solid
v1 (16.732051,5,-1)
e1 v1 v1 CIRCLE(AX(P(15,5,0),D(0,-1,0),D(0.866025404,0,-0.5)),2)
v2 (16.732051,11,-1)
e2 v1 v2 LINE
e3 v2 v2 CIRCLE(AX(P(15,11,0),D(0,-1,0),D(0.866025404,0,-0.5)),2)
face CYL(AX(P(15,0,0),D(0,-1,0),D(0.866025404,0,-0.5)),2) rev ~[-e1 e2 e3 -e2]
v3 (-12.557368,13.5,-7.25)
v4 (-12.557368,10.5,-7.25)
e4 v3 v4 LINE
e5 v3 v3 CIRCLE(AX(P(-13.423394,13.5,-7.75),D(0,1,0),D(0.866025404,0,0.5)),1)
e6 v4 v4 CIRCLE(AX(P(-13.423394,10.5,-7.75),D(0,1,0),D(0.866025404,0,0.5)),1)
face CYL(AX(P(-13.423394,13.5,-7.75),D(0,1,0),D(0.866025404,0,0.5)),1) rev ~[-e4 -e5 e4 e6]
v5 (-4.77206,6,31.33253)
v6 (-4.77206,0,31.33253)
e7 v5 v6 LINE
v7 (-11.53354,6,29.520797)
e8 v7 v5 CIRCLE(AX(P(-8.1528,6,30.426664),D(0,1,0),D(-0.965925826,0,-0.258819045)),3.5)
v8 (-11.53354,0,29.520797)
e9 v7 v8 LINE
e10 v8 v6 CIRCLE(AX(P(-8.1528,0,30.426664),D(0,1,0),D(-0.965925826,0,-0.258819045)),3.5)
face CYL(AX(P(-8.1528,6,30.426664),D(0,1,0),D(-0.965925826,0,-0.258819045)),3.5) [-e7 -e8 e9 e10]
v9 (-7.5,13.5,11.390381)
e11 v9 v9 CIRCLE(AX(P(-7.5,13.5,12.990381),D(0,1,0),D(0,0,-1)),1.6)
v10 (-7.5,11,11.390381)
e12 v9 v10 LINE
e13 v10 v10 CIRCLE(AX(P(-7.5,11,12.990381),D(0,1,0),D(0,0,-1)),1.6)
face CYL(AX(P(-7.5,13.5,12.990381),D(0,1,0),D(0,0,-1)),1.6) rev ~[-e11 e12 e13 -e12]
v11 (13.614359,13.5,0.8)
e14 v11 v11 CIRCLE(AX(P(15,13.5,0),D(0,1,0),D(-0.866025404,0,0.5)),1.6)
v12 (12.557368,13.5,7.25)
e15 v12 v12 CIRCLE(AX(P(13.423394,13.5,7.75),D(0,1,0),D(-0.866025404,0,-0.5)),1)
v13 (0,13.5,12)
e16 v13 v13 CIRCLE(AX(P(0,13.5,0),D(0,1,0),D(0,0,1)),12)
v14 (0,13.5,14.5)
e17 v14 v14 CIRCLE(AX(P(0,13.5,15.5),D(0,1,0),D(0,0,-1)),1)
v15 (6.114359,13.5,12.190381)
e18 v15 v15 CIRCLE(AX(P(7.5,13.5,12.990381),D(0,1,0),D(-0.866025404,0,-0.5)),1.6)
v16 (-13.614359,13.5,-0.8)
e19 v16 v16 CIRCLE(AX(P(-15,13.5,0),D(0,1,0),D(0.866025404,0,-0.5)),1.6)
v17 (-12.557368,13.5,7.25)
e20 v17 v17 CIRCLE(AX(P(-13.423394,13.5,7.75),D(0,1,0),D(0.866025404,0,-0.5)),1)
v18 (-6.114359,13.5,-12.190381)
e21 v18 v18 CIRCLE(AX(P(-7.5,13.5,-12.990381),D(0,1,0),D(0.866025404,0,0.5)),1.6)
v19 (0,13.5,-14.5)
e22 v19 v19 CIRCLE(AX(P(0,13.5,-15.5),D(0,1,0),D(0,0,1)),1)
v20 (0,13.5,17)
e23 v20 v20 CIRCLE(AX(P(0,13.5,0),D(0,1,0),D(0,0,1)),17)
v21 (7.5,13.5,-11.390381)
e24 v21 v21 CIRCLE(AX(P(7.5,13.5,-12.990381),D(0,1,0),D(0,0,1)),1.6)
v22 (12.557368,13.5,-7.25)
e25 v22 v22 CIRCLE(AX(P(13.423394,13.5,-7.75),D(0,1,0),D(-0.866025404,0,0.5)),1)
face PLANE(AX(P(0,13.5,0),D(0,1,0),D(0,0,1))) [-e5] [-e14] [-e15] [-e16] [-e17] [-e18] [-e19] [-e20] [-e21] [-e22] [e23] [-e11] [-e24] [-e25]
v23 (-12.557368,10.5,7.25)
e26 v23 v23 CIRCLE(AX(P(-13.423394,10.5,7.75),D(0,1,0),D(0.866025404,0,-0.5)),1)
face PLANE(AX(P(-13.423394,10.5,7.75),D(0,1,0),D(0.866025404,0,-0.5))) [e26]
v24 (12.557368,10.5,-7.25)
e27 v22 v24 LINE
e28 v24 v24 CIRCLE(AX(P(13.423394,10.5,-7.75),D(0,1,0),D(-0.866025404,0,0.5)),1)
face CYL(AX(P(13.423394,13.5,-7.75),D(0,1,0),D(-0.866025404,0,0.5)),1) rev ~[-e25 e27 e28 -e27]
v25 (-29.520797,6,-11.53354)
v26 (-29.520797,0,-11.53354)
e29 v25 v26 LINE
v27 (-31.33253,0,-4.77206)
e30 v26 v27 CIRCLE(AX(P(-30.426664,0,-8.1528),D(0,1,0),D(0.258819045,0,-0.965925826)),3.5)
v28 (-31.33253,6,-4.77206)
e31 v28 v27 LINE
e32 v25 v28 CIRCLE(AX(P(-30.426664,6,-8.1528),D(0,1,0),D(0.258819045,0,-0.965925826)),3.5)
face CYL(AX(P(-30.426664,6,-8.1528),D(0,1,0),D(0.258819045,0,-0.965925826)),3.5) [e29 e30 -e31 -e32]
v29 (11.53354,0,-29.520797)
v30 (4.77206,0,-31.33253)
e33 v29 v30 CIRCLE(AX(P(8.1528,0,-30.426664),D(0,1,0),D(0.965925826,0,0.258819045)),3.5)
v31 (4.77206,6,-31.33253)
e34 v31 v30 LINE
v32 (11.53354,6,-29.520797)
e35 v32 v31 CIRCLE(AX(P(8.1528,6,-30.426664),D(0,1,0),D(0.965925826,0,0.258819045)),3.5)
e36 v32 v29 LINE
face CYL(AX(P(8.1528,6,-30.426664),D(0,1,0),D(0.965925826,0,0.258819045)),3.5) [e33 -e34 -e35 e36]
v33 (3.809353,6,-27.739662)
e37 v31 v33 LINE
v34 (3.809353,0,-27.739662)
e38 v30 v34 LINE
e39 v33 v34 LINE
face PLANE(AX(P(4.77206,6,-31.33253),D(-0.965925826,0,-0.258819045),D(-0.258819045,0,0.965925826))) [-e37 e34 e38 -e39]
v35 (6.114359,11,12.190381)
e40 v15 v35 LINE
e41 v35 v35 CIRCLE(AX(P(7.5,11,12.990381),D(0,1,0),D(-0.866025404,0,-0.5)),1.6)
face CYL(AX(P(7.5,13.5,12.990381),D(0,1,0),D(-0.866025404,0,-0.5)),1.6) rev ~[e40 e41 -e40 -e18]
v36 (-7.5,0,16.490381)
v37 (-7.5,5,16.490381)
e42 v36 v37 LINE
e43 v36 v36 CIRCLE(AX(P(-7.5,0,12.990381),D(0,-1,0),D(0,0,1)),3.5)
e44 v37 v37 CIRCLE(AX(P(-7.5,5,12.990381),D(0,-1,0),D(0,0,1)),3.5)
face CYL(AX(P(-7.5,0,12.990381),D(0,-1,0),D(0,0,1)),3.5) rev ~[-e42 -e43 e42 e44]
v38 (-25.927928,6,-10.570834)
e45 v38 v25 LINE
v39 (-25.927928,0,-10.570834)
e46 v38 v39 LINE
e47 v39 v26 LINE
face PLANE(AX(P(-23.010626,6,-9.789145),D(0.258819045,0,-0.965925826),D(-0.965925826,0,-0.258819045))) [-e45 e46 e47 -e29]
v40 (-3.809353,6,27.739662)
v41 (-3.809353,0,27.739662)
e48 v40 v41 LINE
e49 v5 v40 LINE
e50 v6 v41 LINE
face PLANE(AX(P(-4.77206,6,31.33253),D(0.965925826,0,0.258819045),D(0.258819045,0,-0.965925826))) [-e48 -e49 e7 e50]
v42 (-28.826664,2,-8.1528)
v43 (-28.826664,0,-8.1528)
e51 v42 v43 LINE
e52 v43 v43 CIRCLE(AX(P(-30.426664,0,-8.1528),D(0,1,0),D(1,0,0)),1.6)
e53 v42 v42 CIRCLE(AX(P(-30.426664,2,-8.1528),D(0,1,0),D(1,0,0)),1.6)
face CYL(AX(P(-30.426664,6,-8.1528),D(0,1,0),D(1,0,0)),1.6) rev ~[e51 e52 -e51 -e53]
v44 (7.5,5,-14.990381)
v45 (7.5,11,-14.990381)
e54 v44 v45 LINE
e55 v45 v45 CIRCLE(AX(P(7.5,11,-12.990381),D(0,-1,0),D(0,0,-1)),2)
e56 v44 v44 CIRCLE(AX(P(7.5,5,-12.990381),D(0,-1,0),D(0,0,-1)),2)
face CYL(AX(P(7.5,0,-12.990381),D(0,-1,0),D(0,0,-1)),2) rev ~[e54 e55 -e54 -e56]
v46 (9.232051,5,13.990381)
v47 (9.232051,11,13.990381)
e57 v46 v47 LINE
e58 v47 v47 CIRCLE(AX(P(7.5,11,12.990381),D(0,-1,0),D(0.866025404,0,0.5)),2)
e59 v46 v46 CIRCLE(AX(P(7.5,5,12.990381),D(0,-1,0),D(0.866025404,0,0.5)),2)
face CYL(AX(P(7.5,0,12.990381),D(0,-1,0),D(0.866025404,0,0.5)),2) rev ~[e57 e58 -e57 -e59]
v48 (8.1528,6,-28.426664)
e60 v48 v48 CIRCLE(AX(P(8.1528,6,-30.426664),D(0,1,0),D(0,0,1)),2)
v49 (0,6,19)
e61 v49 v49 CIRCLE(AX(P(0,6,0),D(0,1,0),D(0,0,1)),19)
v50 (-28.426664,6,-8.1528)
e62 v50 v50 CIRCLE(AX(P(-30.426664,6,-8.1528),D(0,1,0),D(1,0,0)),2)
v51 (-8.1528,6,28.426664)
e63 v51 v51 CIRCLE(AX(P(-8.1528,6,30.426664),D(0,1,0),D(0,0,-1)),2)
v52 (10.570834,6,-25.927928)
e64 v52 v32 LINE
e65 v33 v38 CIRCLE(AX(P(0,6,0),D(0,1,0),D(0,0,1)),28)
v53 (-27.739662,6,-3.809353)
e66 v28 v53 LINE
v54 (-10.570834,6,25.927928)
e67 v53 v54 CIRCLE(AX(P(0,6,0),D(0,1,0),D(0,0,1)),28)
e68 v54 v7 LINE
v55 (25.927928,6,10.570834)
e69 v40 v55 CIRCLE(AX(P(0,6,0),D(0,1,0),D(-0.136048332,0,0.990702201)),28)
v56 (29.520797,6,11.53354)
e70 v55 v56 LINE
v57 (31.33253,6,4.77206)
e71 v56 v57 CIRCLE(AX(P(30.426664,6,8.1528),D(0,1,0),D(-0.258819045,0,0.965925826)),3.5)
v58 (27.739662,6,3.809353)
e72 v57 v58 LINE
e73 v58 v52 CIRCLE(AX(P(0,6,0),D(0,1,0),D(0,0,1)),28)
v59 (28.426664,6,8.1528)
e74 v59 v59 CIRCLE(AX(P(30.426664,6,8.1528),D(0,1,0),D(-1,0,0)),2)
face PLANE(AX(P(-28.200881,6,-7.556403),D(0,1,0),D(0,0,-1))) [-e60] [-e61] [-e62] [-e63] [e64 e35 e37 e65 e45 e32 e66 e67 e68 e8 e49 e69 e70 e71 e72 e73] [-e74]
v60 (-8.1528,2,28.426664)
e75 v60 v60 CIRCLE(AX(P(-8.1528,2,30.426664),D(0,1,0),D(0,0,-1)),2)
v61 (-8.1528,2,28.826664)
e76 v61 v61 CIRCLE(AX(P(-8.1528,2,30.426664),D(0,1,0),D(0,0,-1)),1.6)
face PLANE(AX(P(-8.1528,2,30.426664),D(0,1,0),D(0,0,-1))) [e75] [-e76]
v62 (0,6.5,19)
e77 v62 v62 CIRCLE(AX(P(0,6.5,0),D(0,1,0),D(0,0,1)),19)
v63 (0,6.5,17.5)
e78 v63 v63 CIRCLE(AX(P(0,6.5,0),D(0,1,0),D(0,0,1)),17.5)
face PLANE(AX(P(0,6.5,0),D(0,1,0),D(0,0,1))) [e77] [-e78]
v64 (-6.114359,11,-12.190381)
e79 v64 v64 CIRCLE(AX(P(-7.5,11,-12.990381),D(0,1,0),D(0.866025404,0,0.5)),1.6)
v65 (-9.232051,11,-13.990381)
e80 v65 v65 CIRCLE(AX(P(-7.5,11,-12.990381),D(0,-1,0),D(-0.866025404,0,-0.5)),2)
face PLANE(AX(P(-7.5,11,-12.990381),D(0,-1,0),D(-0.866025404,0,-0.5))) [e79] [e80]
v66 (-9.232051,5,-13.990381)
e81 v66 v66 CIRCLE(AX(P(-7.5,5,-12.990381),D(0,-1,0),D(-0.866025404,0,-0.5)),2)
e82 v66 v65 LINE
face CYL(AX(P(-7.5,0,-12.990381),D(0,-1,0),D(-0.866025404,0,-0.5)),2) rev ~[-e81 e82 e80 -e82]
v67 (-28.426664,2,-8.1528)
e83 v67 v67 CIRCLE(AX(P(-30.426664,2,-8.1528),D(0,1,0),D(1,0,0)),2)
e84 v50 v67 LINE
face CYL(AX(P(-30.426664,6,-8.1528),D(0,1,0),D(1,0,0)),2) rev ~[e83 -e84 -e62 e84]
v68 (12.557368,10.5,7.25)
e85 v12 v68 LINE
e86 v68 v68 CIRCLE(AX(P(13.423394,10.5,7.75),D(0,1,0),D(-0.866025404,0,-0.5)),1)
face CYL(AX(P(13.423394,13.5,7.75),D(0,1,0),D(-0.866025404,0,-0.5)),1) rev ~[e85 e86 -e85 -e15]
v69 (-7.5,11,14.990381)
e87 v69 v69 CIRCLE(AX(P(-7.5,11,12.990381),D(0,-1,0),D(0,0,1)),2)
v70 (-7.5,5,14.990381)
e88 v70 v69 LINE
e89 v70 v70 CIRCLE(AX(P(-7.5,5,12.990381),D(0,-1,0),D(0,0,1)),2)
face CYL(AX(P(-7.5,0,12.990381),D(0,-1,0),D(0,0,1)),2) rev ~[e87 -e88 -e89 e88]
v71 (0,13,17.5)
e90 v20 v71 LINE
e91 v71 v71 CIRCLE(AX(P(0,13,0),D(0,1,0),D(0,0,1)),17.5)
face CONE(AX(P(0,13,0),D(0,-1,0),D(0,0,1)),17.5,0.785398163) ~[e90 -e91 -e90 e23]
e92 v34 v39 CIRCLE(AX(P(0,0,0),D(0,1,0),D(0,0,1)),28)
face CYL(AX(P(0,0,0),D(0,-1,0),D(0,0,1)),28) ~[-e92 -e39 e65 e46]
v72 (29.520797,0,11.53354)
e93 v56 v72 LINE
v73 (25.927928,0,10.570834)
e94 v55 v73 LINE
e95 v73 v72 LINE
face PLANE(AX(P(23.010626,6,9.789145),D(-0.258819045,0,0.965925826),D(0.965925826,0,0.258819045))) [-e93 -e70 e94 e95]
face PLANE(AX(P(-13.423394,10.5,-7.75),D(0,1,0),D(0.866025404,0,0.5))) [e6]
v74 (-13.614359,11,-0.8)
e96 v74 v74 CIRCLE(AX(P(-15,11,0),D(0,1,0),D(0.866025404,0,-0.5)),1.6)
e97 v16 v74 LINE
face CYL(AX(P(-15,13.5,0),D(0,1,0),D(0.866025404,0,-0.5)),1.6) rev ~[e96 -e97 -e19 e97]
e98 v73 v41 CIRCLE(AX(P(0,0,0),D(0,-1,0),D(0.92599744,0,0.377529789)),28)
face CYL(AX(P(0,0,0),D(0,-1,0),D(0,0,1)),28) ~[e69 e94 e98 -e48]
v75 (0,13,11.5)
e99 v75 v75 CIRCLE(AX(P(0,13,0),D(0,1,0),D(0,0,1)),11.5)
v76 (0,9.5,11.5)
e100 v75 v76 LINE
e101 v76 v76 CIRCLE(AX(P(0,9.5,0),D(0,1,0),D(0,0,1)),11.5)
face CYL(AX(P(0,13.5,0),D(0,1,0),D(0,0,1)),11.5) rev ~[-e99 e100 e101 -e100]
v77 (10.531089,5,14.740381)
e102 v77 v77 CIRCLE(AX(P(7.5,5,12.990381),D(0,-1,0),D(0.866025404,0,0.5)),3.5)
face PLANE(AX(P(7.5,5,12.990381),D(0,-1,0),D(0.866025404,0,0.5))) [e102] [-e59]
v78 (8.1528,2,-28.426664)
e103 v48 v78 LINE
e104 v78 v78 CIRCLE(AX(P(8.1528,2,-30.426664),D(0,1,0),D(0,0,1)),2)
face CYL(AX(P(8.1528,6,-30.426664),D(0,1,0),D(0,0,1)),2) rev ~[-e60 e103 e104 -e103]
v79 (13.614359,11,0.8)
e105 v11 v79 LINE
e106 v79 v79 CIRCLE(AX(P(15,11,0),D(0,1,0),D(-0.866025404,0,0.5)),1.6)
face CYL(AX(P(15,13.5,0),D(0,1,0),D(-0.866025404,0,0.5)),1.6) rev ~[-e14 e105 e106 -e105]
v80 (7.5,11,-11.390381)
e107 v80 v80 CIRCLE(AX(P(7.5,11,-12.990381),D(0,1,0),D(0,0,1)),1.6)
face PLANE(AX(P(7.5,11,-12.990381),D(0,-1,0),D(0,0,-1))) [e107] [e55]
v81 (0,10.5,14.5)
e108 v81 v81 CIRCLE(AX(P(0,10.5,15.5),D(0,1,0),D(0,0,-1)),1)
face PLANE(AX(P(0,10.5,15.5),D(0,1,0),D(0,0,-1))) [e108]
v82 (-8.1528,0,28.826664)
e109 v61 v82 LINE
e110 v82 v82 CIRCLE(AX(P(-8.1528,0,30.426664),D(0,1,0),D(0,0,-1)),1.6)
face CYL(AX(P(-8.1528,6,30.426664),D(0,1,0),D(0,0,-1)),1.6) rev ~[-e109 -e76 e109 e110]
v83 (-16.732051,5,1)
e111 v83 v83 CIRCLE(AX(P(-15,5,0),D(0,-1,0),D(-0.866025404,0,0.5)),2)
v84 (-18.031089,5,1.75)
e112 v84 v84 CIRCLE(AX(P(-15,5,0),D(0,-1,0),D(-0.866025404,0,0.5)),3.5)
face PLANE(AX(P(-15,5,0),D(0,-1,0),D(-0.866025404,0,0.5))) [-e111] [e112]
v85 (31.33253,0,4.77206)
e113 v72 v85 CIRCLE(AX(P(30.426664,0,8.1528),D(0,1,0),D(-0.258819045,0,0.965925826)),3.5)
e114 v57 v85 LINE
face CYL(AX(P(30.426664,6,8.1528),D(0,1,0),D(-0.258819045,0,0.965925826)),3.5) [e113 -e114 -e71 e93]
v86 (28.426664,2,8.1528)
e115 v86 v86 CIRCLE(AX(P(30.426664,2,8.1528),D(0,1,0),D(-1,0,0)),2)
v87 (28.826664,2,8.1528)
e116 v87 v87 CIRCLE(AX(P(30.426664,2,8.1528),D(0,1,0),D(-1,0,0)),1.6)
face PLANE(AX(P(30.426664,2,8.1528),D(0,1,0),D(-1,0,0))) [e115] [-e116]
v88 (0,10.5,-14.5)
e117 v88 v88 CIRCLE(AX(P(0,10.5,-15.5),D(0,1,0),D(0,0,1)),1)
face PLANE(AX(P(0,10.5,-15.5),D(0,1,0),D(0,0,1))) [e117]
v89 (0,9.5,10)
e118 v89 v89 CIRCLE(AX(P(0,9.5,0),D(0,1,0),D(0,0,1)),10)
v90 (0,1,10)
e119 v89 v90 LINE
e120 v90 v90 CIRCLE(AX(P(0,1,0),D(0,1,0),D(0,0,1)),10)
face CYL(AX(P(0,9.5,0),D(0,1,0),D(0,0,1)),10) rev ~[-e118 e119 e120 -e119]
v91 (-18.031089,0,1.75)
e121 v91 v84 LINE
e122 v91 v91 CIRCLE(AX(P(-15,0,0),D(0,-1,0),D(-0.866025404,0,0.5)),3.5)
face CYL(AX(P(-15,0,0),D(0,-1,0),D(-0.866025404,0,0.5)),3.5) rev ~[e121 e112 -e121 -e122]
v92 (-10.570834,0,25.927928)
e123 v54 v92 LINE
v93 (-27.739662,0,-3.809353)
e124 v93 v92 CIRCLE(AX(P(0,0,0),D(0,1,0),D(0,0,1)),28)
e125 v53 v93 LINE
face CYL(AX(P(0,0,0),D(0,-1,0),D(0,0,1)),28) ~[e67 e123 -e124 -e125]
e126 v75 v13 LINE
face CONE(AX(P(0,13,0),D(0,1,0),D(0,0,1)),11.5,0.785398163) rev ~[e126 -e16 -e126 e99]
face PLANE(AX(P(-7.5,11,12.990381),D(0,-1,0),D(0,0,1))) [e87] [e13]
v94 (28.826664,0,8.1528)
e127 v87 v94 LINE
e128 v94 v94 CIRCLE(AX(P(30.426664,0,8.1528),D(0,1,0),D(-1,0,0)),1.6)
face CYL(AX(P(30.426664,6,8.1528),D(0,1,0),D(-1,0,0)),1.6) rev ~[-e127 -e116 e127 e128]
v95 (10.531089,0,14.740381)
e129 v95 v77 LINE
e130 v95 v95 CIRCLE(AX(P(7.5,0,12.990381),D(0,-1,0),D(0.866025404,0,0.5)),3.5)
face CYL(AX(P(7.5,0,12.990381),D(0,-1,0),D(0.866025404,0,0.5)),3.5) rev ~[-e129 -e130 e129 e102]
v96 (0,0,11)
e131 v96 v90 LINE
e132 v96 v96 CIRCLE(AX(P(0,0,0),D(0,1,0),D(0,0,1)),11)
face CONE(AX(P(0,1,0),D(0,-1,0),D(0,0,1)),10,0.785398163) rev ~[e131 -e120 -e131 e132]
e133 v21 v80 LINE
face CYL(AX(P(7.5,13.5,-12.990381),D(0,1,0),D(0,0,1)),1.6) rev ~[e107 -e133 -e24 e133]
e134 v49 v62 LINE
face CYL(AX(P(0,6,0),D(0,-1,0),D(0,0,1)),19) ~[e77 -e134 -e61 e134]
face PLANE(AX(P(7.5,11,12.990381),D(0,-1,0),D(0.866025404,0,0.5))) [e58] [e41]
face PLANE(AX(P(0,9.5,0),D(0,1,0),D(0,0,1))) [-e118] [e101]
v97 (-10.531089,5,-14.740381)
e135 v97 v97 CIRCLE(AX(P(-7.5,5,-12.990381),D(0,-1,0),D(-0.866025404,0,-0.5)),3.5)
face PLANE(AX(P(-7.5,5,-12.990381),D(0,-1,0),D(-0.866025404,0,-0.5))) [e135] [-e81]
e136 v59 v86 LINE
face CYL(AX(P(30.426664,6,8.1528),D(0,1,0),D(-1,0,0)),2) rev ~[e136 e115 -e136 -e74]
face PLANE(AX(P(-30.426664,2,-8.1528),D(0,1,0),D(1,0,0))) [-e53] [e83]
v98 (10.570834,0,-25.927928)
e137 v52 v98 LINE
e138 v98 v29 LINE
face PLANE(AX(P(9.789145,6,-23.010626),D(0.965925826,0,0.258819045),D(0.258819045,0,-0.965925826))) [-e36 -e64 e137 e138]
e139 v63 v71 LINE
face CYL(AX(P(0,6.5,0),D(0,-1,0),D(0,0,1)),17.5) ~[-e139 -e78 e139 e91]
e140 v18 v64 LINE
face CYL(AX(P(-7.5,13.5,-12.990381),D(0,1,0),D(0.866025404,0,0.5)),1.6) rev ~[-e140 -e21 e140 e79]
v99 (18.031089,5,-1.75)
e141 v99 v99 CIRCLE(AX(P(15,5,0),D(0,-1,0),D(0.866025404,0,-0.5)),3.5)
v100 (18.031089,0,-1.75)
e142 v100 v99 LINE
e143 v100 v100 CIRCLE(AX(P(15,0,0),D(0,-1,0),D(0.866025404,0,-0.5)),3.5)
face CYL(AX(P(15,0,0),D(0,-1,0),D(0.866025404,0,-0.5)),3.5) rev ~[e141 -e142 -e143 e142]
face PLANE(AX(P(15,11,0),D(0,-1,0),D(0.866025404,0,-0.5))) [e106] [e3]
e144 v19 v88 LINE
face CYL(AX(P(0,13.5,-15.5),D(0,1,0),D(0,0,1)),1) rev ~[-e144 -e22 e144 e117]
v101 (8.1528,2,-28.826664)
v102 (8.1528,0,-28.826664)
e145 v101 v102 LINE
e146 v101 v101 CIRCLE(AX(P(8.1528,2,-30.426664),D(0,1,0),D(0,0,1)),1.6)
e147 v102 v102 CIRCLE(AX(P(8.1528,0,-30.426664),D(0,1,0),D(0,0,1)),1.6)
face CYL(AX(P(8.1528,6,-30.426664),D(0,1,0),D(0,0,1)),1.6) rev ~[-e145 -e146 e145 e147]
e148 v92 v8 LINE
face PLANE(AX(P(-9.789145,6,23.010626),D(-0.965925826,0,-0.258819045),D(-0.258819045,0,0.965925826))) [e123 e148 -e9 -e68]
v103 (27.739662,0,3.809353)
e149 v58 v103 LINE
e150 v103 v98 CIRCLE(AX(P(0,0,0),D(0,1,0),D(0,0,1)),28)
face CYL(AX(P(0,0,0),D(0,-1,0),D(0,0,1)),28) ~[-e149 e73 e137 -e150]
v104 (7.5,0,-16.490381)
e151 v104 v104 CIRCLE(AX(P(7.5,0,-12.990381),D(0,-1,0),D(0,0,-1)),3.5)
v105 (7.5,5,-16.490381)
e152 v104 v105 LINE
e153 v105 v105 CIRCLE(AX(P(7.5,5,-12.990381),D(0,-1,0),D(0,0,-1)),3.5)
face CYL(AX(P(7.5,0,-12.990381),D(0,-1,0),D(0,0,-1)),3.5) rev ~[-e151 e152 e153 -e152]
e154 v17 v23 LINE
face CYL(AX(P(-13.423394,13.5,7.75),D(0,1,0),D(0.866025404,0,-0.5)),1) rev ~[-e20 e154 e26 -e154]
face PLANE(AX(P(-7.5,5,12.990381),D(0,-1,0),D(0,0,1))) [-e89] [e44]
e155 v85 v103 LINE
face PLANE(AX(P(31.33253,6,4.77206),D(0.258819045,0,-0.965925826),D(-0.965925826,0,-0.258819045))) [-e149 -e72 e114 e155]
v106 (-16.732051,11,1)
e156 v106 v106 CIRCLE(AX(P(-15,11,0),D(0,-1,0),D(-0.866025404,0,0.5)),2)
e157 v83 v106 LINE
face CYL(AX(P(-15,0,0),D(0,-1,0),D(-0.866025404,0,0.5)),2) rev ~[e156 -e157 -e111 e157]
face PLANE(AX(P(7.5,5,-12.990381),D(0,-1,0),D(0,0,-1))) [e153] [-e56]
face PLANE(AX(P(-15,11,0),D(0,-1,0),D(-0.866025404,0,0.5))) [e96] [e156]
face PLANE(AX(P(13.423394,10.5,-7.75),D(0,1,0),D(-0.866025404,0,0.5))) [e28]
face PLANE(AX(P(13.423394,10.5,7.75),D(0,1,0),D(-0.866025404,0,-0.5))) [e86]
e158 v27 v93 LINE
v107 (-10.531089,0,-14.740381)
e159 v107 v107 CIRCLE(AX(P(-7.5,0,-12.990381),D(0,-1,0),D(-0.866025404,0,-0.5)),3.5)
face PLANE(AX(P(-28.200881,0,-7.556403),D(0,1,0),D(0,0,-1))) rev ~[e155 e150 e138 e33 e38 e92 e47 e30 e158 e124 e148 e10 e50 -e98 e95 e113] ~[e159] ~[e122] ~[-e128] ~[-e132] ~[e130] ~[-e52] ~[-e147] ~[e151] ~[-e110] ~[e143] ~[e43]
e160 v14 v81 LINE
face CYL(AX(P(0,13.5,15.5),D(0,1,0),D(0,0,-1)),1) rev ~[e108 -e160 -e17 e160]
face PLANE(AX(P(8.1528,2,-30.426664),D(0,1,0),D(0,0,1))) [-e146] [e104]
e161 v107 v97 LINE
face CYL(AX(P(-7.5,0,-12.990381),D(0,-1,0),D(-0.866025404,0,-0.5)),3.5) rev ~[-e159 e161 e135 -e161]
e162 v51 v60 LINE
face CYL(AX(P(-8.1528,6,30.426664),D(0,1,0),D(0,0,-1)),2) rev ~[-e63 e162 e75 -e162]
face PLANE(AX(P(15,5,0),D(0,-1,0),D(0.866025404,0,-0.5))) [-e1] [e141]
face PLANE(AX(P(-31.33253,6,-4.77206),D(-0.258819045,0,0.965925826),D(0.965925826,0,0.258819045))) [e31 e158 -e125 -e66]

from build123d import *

# Parameters (mm, degrees)
SKETCH1_R           = 28
BOSS_EXTRUDE1_DEPTH = 6
SKETCH2_R           = 19
BOSS_EXTRUDE2_DEPTH = 0.5
SKETCH3_R           = 17.5
BOSS_EXTRUDE3_DEPTH = 7
SKETCH4_R           = 1
CUT_EXTRUDE1_DEPTH  = 3
CIRPATTERN1_COUNT   = 6
SKETCH5_R           = 11.5
CUT_EXTRUDE2_DEPTH  = 4
SKETCH6_R           = 10
CUT_EXTRUDE3_DEPTH  = 9.5
SKETCH7_R           = 1.6
CUT_EXTRUDE4_DEPTH  = 13.5
SKETCH9_R           = 3.5
CUT_EXTRUDE10_DEPTH = 5
SKETCH10_R          = 2
CUT_EXTRUDE11_DEPTH = 11
CIRPATTERN2_COUNT   = 6
CHAMFER1_SIZE       = 1
CHAMFER2_SIZE       = 0.5
SKETCH13_R          = 1.6
BOSS_EXTRUDE4_DEPTH = 6
SKETCH14_R          = 2
CUT_EXTRUDE12_DEPTH = 4
CIRPATTERN3_COUNT   = 4


with BuildPart() as part:
    # Sketch1 → Boss-Extrude1 (new body)
    with BuildSketch(Plane(origin=(0, 0, 0), x_dir=(1, 0, 0), z_dir=(0, 1, 0))):
        with Locations(Location((0, 0, 0), (0, 0, 270))):
            Circle(SKETCH1_R)
    extrude(amount=BOSS_EXTRUDE1_DEPTH)

    # Sketch2 → Boss-Extrude2 (add)
    with BuildSketch(Plane(origin=(0, 6, 0), x_dir=(1, 0, 0), z_dir=(0, 1, 0))):
        with Locations(Location((0, 0, 0), (0, 0, 270))):
            Circle(SKETCH2_R)
    extrude(amount=BOSS_EXTRUDE2_DEPTH)

    # Sketch3 → Boss-Extrude3 (add)
    with BuildSketch(Plane(origin=(0, 6.5, 0), x_dir=(1, 0, 0), z_dir=(0, 1, 0))):
        with Locations(Location((0, 0, 0), (0, 0, 270))):
            Circle(SKETCH3_R)
    extrude(amount=BOSS_EXTRUDE3_DEPTH)

    # Sketch4 → Cut-Extrude1 (cut)
    with BuildSketch(Plane(origin=(0, 13.5, 0), x_dir=(1, 0, 0), z_dir=(0, 1, 0))):
        with Locations(Location((0, 15.5, 0), (0, 0, 270))):
            Circle(SKETCH4_R)
    cut_extrude1 = extrude(amount=-CUT_EXTRUDE1_DEPTH, mode=Mode.SUBTRACT)

    # CirPattern1: Cut-Extrude1 ×6 about axis
    cirpattern1_axis = Axis((0, 0, 0), (0, 1, 0))
    for i in range(1, CIRPATTERN1_COUNT):
        add(cut_extrude1.rotate(cirpattern1_axis, i * 360 / CIRPATTERN1_COUNT), mode=Mode.SUBTRACT)

    # Sketch5 → Cut-Extrude2 (cut)
    with BuildSketch(Plane(origin=(0, 13.5, 0), x_dir=(1, 0, 0), z_dir=(0, 1, 0))):
        with Locations(Location((0, 0, 0), (0, 0, 270))):
            Circle(SKETCH5_R)
    extrude(amount=-CUT_EXTRUDE2_DEPTH, mode=Mode.SUBTRACT)

    # Sketch6 → Cut-Extrude3 (cut)
    with BuildSketch(Plane(origin=(0, 9.5, 0), x_dir=(1, 0, 0), z_dir=(0, 1, 0))):
        with Locations(Location((0, 0, 0), (0, 0, 270))):
            Circle(SKETCH6_R)
    extrude(amount=-CUT_EXTRUDE3_DEPTH, mode=Mode.SUBTRACT)

    # Sketch7 → Cut-Extrude4 (cut)
    with BuildSketch(Plane(origin=(0, 13.5, 0), x_dir=(1, 0, 0), z_dir=(0, 1, 0))):
        with Locations(Location((7.5, 12.990381057, 0), (0, 0, 270))):
            Circle(SKETCH7_R)
    cut_extrude4 = extrude(amount=-CUT_EXTRUDE4_DEPTH, mode=Mode.SUBTRACT)

    # Sketch9 → Cut-Extrude10 (cut)
    with BuildSketch(Plane.XZ):
        with Locations(Location((7.5, -12.990381057, 0), (0, 0, 270))):
            Circle(SKETCH9_R)
    cut_extrude10 = extrude(amount=-CUT_EXTRUDE10_DEPTH, mode=Mode.SUBTRACT)

    # Sketch10 → Cut-Extrude11 (cut)
    with BuildSketch(Plane.XZ):
        with Locations(Location((7.5, -12.990381057, 0), (0, 0, 270))):
            Circle(SKETCH10_R)
    cut_extrude11 = extrude(amount=-CUT_EXTRUDE11_DEPTH, mode=Mode.SUBTRACT)

    # CirPattern2: Cut-Extrude4, Cut-Extrude10, Cut-Extrude11 ×6 about axis
    cirpattern2_axis = Axis((0, 0, 0), (0, 1, 0))
    add([cut_extrude4.rotate(cirpattern2_axis, i * 360 / CIRPATTERN2_COUNT) for i in range(1, CIRPATTERN2_COUNT)], mode=Mode.SUBTRACT)
    add([cut_extrude10.rotate(cirpattern2_axis, i * 360 / CIRPATTERN2_COUNT) for i in range(1, CIRPATTERN2_COUNT)], mode=Mode.SUBTRACT)
    add([cut_extrude11.rotate(cirpattern2_axis, i * 360 / CIRPATTERN2_COUNT) for i in range(1, CIRPATTERN2_COUNT)], mode=Mode.SUBTRACT)

    # Chamfer1
    chamfer1_edges = [part.edges().sort_by_distance(p)[0] for p in [
        (0, 0, -10),
    ]]
    chamfer(chamfer1_edges, length=CHAMFER1_SIZE)

    # Chamfer2
    chamfer2_edges = [part.edges().sort_by_distance(p)[0] for p in [
        (0, 13.5, -17.5),
        (0, 13.5, -11.5),
    ]]
    chamfer(chamfer2_edges, length=CHAMFER2_SIZE)

    # Sketch13 → Boss-Extrude4 (add)
    with BuildSketch(Plane(origin=(0, 6, 0), x_dir=(1, 0, 0), z_dir=(0, 1, 0))):
        with BuildLine():
            Line((4.772059529, 31.332530186), (3.027664457, 24.822359149))
            Line((3.027664457, 24.822359149), (9.789145241, 23.010625833))
            Line((9.789145241, 23.010625833), (11.533540313, 29.52079687))
            ThreePointArc((11.533540313, 29.52079687), (9.058666579, 33.80740392), (4.772059529, 31.332530186))
        make_face()
        with Locations(Location((8.152799921, 30.426663528, 0), (0, 0, 270))):
            Circle(SKETCH13_R, mode=Mode.SUBTRACT)
    boss_extrude4 = extrude(amount=-BOSS_EXTRUDE4_DEPTH)

    # Sketch14 → Cut-Extrude12 (cut)
    with BuildSketch(Plane(origin=(0, 6, 0), x_dir=(1, 0, 0), z_dir=(0, 1, 0))):
        with Locations(Location((8.152799921, 30.426663528, 0), (0, 0, 270))):
            Circle(SKETCH14_R)
    cut_extrude12 = extrude(amount=-CUT_EXTRUDE12_DEPTH, mode=Mode.SUBTRACT)

    # CirPattern3: Boss-Extrude4, Cut-Extrude12 ×4 about axis
    cirpattern3_axis = Axis((0, 0, 0), (0, 1, 0))
    add([boss_extrude4.rotate(cirpattern3_axis, i * 360 / CIRPATTERN3_COUNT) for i in range(1, CIRPATTERN3_COUNT)])
    add([cut_extrude12.rotate(cirpattern3_axis, i * 360 / CIRPATTERN3_COUNT) for i in range(1, CIRPATTERN3_COUNT)], mode=Mode.SUBTRACT)


solid = part.part
